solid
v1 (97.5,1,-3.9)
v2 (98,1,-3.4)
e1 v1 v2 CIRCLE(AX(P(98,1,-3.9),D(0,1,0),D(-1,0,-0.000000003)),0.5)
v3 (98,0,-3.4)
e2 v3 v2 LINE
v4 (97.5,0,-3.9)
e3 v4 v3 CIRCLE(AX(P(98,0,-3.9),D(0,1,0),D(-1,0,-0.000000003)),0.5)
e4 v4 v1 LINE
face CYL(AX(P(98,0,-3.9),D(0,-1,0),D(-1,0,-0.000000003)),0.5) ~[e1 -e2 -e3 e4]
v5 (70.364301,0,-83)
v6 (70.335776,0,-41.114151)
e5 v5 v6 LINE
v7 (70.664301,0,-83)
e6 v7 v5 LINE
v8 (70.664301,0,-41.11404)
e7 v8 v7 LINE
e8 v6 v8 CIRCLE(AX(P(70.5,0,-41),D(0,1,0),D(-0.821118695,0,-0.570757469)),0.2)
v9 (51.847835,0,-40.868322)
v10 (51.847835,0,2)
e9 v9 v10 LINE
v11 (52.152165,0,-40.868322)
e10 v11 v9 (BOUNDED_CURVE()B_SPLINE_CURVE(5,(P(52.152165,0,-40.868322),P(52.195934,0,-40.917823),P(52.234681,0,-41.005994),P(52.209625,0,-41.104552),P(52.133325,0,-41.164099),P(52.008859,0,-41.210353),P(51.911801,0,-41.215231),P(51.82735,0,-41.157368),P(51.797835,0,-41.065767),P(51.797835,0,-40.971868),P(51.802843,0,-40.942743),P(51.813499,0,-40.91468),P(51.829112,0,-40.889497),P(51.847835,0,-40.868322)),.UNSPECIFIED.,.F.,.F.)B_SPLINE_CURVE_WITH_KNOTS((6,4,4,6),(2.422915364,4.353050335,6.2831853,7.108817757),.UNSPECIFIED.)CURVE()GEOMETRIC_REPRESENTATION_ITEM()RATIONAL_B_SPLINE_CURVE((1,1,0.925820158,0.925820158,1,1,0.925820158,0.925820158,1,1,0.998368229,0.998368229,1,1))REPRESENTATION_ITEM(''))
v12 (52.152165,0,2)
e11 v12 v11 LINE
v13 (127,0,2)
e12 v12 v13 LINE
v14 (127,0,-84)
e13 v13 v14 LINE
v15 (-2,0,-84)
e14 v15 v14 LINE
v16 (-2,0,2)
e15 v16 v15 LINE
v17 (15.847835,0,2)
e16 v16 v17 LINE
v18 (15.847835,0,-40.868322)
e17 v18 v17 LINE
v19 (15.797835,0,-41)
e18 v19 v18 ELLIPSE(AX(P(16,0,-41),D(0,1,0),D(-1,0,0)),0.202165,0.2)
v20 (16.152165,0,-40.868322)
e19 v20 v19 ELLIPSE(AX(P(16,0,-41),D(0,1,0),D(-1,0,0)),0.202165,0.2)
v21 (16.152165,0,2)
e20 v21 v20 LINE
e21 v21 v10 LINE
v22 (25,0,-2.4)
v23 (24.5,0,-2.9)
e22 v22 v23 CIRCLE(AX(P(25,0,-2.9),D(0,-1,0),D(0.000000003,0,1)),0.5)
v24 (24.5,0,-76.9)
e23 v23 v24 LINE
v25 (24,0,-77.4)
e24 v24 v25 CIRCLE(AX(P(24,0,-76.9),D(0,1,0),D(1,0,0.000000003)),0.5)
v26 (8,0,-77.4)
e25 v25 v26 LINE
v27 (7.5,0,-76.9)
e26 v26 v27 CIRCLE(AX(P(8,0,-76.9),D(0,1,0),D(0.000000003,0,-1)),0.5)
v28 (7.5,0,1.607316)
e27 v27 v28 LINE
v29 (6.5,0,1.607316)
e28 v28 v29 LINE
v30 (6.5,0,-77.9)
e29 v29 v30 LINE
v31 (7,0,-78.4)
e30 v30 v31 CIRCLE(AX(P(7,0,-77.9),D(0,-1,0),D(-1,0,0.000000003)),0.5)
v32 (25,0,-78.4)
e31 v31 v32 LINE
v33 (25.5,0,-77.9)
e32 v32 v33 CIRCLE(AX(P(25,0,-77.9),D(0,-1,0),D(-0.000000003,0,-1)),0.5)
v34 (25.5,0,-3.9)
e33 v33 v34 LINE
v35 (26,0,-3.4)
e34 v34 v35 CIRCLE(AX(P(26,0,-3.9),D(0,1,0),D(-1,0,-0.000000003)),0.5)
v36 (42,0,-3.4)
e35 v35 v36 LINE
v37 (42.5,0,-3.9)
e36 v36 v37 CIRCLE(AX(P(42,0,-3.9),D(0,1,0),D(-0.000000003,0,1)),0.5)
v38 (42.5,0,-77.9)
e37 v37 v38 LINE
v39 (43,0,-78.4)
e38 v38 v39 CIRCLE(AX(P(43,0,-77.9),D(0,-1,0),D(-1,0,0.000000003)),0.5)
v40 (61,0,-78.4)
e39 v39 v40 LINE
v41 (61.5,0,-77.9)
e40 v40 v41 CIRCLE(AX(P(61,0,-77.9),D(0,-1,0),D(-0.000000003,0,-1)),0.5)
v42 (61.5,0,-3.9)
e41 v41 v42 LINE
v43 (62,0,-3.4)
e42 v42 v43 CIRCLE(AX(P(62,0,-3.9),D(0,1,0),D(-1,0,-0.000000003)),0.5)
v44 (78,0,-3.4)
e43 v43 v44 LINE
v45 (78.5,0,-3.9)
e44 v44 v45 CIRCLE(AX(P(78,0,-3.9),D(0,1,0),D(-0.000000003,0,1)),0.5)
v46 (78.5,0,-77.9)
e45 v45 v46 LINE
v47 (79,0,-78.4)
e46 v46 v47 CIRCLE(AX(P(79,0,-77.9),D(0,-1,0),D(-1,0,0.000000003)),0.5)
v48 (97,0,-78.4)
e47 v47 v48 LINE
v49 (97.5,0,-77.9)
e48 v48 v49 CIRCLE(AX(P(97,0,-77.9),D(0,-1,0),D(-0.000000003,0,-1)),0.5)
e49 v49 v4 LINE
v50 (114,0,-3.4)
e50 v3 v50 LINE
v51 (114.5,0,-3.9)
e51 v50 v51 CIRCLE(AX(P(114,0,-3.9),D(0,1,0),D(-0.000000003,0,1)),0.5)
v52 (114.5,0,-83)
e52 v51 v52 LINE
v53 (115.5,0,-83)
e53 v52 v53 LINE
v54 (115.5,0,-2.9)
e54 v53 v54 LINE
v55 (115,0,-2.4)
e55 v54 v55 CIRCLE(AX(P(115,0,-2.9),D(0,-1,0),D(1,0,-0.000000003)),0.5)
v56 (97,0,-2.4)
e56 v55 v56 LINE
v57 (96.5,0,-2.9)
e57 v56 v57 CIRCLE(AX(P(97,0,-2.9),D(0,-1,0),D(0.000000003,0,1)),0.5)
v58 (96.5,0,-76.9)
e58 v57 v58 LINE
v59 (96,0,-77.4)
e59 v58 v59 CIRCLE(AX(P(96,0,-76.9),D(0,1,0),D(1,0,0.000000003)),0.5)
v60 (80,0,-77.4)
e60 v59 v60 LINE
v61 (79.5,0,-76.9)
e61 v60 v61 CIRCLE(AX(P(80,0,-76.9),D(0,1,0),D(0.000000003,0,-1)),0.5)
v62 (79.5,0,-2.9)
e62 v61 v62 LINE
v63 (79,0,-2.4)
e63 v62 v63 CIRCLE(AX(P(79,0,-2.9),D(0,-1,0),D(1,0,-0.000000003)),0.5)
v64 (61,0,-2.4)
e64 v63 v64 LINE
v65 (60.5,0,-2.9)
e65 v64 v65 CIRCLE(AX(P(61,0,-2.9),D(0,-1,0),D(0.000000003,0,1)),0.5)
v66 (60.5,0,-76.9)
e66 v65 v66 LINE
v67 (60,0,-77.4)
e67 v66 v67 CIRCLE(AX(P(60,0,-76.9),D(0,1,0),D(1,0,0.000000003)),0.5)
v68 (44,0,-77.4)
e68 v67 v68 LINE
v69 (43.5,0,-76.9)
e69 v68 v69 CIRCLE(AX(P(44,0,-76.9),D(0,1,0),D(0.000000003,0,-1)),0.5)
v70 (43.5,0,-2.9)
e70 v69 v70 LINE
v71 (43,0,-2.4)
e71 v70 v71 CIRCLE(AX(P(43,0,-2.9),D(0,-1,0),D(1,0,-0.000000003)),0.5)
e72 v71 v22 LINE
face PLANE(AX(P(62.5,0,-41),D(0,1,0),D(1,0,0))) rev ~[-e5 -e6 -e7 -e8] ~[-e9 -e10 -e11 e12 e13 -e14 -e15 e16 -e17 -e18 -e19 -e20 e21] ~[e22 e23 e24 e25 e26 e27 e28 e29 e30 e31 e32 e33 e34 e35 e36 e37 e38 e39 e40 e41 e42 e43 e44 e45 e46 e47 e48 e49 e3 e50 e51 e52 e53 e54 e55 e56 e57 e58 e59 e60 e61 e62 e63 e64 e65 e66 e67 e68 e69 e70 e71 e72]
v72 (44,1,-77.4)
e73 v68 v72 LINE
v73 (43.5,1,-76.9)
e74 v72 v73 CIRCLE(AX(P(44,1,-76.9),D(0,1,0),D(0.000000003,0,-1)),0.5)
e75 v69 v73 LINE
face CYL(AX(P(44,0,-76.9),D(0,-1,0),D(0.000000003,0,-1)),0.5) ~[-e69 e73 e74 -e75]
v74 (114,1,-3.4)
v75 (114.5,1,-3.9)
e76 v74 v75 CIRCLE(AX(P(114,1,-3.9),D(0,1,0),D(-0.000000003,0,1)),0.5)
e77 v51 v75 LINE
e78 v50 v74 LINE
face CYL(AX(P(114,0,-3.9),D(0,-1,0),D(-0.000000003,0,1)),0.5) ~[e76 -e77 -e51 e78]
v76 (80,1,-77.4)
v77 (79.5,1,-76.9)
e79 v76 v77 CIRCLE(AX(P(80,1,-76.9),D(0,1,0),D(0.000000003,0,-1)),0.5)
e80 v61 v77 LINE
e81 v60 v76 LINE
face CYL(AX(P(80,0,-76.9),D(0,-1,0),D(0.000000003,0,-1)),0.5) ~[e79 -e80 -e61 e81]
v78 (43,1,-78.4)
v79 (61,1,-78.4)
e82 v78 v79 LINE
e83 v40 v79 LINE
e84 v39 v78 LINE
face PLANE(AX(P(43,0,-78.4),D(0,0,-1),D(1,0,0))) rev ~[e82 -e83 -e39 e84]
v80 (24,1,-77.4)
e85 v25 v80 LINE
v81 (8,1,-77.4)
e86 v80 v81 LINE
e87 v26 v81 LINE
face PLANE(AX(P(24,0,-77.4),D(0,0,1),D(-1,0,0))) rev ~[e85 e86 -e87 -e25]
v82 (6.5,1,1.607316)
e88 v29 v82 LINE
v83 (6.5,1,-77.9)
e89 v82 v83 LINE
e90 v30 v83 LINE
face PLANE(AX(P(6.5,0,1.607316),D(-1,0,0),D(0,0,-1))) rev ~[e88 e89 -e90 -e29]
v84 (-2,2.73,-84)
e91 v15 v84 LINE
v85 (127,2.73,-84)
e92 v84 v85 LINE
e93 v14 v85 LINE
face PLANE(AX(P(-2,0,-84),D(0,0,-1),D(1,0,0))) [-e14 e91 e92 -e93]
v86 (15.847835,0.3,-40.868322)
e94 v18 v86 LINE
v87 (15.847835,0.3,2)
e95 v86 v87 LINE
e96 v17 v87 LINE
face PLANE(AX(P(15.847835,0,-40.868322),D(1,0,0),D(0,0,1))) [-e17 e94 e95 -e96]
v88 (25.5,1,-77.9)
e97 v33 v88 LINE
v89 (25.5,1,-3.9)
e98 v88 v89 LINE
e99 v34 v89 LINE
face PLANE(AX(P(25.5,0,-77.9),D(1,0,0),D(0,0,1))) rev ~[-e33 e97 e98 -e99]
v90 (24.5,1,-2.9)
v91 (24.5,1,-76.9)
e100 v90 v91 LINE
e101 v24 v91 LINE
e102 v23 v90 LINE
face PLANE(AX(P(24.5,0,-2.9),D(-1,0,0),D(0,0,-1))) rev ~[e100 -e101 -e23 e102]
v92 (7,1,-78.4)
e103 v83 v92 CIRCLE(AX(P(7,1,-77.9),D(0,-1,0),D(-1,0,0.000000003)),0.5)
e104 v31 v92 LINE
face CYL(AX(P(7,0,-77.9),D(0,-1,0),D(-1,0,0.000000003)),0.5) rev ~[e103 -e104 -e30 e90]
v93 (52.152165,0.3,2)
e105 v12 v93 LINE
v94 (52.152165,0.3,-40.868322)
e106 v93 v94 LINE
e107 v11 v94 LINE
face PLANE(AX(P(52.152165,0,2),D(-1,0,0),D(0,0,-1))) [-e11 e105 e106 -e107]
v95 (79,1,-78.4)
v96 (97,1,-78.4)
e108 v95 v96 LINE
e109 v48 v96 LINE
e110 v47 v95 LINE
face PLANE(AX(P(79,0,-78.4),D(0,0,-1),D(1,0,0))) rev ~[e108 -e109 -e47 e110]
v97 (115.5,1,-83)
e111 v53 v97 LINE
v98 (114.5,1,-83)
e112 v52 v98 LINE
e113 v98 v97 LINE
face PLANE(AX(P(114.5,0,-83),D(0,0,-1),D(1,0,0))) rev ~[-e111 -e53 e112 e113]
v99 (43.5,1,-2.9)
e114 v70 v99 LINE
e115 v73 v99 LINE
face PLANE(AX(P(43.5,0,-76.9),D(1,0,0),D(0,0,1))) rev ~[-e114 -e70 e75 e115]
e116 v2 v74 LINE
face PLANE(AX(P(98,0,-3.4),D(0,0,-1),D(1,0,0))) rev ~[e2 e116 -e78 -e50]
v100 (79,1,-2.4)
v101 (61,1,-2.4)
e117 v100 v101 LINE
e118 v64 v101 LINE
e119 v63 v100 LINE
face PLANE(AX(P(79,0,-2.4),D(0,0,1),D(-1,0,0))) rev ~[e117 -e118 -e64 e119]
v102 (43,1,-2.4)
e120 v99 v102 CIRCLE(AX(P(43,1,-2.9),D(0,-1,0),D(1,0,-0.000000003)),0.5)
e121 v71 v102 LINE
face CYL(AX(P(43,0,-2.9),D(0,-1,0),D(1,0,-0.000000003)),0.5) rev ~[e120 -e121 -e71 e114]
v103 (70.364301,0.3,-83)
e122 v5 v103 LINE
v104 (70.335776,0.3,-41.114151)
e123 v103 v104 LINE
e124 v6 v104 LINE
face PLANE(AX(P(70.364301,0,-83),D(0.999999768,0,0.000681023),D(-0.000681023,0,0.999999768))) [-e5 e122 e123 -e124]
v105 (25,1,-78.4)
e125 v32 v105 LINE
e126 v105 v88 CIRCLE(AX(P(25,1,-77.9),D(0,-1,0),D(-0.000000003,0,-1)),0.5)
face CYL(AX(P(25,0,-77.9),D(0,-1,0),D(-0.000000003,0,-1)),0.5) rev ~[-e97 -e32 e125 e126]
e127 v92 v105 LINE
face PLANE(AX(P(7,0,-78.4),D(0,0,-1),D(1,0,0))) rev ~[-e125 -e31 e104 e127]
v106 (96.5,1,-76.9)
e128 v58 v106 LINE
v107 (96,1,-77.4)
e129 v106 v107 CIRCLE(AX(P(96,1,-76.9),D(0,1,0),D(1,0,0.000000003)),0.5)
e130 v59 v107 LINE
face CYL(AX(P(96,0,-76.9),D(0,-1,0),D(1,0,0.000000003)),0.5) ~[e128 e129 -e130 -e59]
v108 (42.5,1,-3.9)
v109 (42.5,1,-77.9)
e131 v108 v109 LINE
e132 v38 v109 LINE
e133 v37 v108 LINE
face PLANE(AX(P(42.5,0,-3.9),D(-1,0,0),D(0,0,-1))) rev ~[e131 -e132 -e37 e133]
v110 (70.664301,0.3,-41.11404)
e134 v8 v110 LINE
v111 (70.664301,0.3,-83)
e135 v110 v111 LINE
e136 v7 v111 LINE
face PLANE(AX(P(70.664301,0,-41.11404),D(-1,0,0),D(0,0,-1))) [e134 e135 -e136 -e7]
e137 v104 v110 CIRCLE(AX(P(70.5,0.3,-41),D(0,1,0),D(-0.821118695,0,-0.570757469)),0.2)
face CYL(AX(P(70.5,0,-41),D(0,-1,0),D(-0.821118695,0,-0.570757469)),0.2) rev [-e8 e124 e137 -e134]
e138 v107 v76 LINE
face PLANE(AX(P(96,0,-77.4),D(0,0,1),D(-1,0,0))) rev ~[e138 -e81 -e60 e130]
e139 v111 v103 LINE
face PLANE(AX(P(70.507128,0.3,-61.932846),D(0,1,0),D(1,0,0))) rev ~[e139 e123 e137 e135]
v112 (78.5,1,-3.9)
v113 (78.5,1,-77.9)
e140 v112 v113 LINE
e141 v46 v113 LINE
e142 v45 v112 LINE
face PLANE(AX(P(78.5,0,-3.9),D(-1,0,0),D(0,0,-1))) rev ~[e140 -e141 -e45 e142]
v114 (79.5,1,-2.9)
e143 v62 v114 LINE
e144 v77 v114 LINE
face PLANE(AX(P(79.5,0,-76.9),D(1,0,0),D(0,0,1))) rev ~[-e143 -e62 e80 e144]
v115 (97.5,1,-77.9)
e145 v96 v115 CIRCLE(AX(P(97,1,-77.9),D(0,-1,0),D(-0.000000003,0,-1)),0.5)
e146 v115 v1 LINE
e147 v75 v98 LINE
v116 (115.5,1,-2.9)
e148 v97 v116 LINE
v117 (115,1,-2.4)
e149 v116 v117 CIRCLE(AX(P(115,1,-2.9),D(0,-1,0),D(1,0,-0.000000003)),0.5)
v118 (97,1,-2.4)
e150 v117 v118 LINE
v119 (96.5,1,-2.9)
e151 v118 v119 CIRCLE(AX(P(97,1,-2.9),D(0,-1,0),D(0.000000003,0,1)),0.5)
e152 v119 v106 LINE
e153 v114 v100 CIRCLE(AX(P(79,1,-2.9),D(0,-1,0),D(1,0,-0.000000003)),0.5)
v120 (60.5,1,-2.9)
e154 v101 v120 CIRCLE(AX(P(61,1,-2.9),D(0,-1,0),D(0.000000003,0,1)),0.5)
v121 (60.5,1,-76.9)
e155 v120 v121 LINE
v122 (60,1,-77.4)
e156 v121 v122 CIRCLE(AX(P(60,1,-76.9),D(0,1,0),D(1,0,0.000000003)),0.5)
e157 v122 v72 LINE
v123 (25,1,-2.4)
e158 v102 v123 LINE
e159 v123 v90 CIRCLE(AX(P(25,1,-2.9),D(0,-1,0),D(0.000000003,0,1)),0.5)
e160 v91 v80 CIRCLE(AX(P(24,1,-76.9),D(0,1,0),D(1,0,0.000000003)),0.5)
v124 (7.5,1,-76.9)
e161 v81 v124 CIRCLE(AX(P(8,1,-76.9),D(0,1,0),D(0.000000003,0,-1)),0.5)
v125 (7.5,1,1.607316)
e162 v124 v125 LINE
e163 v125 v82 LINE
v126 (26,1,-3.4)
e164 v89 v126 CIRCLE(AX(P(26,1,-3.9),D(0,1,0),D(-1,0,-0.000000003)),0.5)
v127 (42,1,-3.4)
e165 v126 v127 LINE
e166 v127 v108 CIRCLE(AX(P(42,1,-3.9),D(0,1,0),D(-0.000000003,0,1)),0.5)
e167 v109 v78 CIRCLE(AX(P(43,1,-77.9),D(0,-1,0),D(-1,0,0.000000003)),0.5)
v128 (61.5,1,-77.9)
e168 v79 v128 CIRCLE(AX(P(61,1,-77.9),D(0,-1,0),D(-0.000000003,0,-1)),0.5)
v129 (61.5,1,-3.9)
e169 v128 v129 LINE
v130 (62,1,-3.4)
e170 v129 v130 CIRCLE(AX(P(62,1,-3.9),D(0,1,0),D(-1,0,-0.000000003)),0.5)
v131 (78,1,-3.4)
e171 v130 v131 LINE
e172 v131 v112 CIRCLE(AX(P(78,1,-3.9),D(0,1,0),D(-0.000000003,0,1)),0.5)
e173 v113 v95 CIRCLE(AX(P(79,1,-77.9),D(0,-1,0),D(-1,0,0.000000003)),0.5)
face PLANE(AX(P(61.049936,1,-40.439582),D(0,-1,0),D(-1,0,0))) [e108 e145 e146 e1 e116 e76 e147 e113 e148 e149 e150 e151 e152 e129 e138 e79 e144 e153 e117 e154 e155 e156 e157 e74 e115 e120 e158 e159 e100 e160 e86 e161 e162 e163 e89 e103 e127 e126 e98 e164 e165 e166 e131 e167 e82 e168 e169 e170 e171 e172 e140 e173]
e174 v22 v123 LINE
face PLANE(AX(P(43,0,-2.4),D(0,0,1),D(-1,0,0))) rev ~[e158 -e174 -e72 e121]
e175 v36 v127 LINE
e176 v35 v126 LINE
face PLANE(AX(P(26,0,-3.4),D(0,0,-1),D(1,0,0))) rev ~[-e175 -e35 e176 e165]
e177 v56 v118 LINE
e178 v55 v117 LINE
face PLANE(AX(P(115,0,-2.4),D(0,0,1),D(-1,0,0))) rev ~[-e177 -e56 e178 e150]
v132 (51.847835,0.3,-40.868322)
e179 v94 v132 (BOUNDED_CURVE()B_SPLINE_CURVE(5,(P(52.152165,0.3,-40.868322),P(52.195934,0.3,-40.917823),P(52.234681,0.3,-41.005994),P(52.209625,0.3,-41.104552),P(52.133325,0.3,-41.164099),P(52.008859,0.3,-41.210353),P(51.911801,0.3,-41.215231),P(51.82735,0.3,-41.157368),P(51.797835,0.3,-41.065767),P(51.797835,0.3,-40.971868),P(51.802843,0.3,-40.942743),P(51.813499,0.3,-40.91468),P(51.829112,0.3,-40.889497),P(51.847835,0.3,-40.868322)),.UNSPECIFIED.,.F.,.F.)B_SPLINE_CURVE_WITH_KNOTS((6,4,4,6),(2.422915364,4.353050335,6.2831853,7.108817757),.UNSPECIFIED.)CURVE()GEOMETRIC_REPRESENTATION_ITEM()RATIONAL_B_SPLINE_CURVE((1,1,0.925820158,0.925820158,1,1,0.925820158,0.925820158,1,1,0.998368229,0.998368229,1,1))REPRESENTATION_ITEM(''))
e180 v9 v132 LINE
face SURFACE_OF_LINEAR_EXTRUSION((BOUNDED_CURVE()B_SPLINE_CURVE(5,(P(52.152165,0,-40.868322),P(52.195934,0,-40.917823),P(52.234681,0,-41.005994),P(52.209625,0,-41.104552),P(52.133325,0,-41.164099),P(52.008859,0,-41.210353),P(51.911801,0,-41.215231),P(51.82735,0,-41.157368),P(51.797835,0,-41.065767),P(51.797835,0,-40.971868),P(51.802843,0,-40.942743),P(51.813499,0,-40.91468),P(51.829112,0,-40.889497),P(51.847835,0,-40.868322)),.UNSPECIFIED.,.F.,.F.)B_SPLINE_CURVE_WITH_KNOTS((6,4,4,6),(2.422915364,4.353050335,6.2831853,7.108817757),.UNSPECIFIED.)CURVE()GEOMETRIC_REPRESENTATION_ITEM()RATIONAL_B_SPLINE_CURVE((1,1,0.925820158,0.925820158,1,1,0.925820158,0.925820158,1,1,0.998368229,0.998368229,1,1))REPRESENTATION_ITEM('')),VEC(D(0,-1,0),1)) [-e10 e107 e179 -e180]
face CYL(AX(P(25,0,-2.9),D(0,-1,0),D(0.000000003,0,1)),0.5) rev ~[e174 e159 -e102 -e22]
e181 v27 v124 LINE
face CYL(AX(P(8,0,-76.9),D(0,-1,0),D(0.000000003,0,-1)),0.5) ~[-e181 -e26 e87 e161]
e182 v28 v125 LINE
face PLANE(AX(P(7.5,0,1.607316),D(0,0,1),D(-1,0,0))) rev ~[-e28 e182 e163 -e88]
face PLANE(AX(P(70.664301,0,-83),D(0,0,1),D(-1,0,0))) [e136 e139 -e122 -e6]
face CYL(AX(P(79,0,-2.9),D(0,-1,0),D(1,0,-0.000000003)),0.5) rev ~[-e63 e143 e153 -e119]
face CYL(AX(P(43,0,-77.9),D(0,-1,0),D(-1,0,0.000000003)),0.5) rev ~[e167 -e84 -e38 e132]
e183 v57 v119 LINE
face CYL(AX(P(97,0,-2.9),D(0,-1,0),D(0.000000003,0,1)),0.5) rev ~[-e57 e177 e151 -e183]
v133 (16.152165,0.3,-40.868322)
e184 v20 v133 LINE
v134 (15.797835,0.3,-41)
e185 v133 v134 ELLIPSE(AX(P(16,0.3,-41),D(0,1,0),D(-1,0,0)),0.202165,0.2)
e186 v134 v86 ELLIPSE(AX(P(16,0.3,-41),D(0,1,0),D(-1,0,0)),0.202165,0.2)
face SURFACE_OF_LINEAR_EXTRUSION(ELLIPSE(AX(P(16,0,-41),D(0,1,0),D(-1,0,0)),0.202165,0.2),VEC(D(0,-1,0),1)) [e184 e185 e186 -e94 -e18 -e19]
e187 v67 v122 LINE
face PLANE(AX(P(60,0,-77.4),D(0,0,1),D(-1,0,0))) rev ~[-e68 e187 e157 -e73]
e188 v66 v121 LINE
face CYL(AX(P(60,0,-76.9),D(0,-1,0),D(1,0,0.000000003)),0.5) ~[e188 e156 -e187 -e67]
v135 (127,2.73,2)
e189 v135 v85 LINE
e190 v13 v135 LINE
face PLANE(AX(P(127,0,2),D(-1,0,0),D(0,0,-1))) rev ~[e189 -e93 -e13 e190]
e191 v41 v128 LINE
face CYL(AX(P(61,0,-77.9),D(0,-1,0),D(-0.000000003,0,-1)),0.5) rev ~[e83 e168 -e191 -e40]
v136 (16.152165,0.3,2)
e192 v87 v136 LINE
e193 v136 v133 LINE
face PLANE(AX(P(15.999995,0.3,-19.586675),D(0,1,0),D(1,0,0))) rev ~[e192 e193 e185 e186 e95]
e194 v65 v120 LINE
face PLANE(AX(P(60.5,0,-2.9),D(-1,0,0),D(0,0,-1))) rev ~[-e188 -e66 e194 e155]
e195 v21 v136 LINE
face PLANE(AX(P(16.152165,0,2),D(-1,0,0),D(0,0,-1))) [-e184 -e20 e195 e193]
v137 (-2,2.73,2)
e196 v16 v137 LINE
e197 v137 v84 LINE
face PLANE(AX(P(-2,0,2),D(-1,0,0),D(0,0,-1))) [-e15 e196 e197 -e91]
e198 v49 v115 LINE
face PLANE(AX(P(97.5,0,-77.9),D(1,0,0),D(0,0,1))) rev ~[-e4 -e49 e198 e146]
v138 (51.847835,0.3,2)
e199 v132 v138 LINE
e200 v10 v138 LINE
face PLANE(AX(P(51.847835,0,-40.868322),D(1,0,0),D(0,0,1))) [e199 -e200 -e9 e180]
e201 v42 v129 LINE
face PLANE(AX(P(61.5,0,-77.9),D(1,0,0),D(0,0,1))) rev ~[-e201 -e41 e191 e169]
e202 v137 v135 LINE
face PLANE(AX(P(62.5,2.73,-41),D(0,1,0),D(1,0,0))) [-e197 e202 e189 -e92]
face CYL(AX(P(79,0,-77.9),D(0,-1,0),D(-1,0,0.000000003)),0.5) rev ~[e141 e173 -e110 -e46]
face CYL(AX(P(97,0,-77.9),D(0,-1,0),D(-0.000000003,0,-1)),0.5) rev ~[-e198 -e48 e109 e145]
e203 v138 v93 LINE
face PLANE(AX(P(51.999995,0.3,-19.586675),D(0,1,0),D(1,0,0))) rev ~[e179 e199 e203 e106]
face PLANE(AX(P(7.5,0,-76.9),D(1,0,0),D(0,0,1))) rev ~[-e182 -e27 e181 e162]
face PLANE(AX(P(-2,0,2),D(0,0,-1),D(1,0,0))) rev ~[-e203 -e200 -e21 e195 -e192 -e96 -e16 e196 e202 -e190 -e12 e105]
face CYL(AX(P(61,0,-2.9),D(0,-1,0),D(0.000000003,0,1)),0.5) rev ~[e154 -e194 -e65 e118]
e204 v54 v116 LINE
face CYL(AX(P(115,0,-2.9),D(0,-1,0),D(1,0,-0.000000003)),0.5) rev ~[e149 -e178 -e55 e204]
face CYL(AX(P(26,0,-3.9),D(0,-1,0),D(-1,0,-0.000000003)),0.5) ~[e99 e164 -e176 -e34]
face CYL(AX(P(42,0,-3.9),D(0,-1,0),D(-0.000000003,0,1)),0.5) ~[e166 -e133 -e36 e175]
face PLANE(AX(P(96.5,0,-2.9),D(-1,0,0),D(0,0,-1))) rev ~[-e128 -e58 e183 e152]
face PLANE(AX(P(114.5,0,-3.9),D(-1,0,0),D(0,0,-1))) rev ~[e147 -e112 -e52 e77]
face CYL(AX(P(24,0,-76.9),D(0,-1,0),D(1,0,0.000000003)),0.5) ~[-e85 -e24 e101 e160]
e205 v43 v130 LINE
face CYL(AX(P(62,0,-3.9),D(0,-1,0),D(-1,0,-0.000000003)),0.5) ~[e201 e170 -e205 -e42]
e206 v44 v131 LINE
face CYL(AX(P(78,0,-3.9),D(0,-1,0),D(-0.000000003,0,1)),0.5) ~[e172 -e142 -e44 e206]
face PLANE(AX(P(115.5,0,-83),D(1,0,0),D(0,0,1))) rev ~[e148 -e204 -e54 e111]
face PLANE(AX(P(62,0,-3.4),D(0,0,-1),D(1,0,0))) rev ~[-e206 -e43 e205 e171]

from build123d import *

# Parameters (mm, degrees)
SKETCH_1_W             = 129
SKETCH_1_H             = 86
EXTRUDE_2_DEPTH        = 2.73
CUT_EXTRUDE_1507_DEPTH = 1
SKETCH_1_7_RX          = 0.202164981
SKETCH_1_7_RY          = 0.2
CUT_EXTRUDE_5_DEPTH    = 0.3
CUT_EXTRUDE_15_DEPTH   = 0.3


with BuildPart() as part:
    # Эскиз1 → Бобышка-Вытянуть2 (new body)
    with BuildSketch(Plane(origin=(0, 0, 0), x_dir=(1, 0, 0), z_dir=(0, 1, 0))):
        with Locations((62.5, 41)):
            Rectangle(SKETCH_1_W, SKETCH_1_H)
    extrude(amount=EXTRUDE_2_DEPTH)

    # Эскиз1<4> → Cut-Extrude 1507 (cut)
    with BuildSketch(Plane(origin=(0, 0, 0), x_dir=(1, 0, 0), z_dir=(0, 1, 0))):
        with BuildLine():
            Line((6.5, -1.607315502), (6.5, 77.9))
            ThreePointArc((6.5, 77.9), (6.646446609, 78.253553391), (7, 78.4))
            Line((7, 78.4), (25, 78.4))
            ThreePointArc((25, 78.4), (25.353553391, 78.253553391), (25.5, 77.9))
            Line((25.5, 77.9), (25.5, 3.9))
            ThreePointArc((25.5, 3.9), (25.646446609, 3.546446609), (26, 3.4))
            Line((26, 3.4), (42, 3.4))
            ThreePointArc((42, 3.4), (42.353553391, 3.546446609), (42.5, 3.9))
            Line((42.5, 3.9), (42.5, 77.9))
            ThreePointArc((42.5, 77.9), (42.646446609, 78.253553391), (43, 78.4))
            Line((43, 78.4), (61, 78.4))
            ThreePointArc((61, 78.4), (61.353553391, 78.253553391), (61.5, 77.9))
            Line((61.5, 77.9), (61.5, 3.9))
            ThreePointArc((61.5, 3.9), (61.646446609, 3.546446609), (62, 3.4))
            Line((62, 3.4), (78, 3.4))
            ThreePointArc((78, 3.4), (78.353553391, 3.546446609), (78.5, 3.9))
            Line((78.5, 3.9), (78.5, 77.9))
            ThreePointArc((78.5, 77.9), (78.646446609, 78.253553391), (79, 78.4))
            Line((79, 78.4), (97, 78.4))
            ThreePointArc((97, 78.4), (97.353553391, 78.253553391), (97.5, 77.9))
            Line((97.5, 77.9), (97.5, 3.9))
            ThreePointArc((97.5, 3.9), (97.646446609, 3.546446609), (98, 3.4))
            Line((98, 3.4), (114, 3.4))
            ThreePointArc((114, 3.4), (114.353553391, 3.546446609), (114.5, 3.9))
            Line((114.5, 3.9), (114.5, 78.4))
            Line((114.5, 78.4), (114.5, 83))
            Line((114.5, 83), (115.5, 83))
            Line((115.5, 83), (115.5, 77.4))
            Line((115.5, 77.4), (115.5, 2.9))
            ThreePointArc((115.5, 2.9), (115.353553391, 2.546446609), (115, 2.4))
            Line((115, 2.4), (97, 2.4))
            ThreePointArc((97, 2.4), (96.646446609, 2.546446609), (96.5, 2.9))
            Line((96.5, 2.9), (96.5, 76.9))
            ThreePointArc((96.5, 76.9), (96.353553391, 77.253553391), (96, 77.4))
            Line((96, 77.4), (80, 77.4))
            ThreePointArc((80, 77.4), (79.646446609, 77.253553391), (79.5, 76.9))
            Line((79.5, 76.9), (79.5, 2.9))
            ThreePointArc((79.5, 2.9), (79.353553391, 2.546446609), (79, 2.4))
            Line((79, 2.4), (61, 2.4))
            ThreePointArc((61, 2.4), (60.646446609, 2.546446609), (60.5, 2.9))
            Line((60.5, 2.9), (60.5, 76.9))
            ThreePointArc((60.5, 76.9), (60.353553391, 77.253553391), (60, 77.4))
            Line((60, 77.4), (44, 77.4))
            ThreePointArc((44, 77.4), (43.646446609, 77.253553391), (43.5, 76.9))
            Line((43.5, 76.9), (43.5, 2.9))
            ThreePointArc((43.5, 2.9), (43.353553391, 2.546446609), (43, 2.4))
            Line((43, 2.4), (25, 2.4))
            ThreePointArc((25, 2.4), (24.646446609, 2.546446609), (24.5, 2.9))
            Line((24.5, 2.9), (24.5, 76.9))
            ThreePointArc((24.5, 76.9), (24.353553391, 77.253553391), (24, 77.4))
            Line((24, 77.4), (8, 77.4))
            ThreePointArc((8, 77.4), (7.646446609, 77.253553391), (7.5, 76.9))
            Line((7.5, 76.9), (7.5, -1.607315502))
            Line((7.5, -1.607315502), (6.5, -1.607315502))
        make_face()
    extrude(amount=CUT_EXTRUDE_1507_DEPTH, mode=Mode.SUBTRACT)

    # Эскиз1<7> → Вырез-Вытянуть5 (cut)
    with BuildSketch(Plane(origin=(0, 0, 0), x_dir=(1, 0, 0), z_dir=(0, 1, 0))):
        with Locations(Location((16, 41), (0, 0, 180))):
            Ellipse(SKETCH_1_7_RX, SKETCH_1_7_RY)
    extrude(amount=CUT_EXTRUDE_5_DEPTH, mode=Mode.SUBTRACT)

    # Эскиз9 → Вырез-Вытянуть15 (cut)
    with BuildSketch(Plane(origin=(0, 0, 0), x_dir=(1, 0, 0), z_dir=(0, 1, 0))):
        with BuildLine():
            Line((15.847835019, 40.868322065), (15.847835019, -2))
            Line((15.847835019, -2), (16.152164981, -2))
            Line((16.152164981, -2), (16.152164981, 40.868322065))
            add(Edge.make_bspline(
                [(16.152164981, 40.868322065), (16.344349714, 41.085676609), (16.071092366, 41.187225919), (15.797835019, 41.288775229), (15.797835019, 41)],
                knots=[2.422915364, 2.422915364, 2.422915364, 4.353050335, 4.353050335, 6.283185307, 6.283185307, 6.283185307], degree=2, weights=[1, 0.569361398, 1, 0.569361398, 1]))
            add(Edge.make_bspline(
                [(15.797835019, 41), (15.797835019, 40.924870403), (15.847835019, 40.868322065)],
                knots=[0, 0, 0, 0.71867729, 0.71867729, 0.71867729], degree=2, weights=[1, 0.936129597, 1]))
        make_face()
        with BuildLine():
            Line((70.664301479, 83), (70.364301479, 83))
            Line((70.364301479, 83), (70.335776261, 41.114151494))
            ThreePointArc((70.335776261, 41.114151494), (70.499931864, 40.800000012), (70.664301479, 41.114039572))
            Line((70.664301479, 41.114039572), (70.664301479, 83))
        make_face()
        with BuildLine():
            add(Edge.make_bspline(
                [(51.797835019, 41), (51.797835019, 40.924870403), (51.847835019, 40.868322065)],
                knots=[0, 0, 0, 0.71867729, 0.71867729, 0.71867729], degree=2, weights=[1, 0.936129597, 1]))
            Line((51.847835019, 40.868322065), (51.847835019, -2))
            Line((51.847835019, -2), (52.152164981, -2))
            Line((52.152164981, -2), (52.152164981, 40.868322065))
            add(Edge.make_bspline(
                [(52.152164981, 40.868322065), (52.344349714, 41.085676609), (52.071092366, 41.187225919), (51.797835019, 41.288775229), (51.797835019, 41)],
                knots=[2.422915364, 2.422915364, 2.422915364, 4.353050335, 4.353050335, 6.283185307, 6.283185307, 6.283185307], degree=2, weights=[1, 0.569361398, 1, 0.569361398, 1]))
        make_face()
    extrude(amount=CUT_EXTRUDE_15_DEPTH, mode=Mode.SUBTRACT)


solid = part.part
